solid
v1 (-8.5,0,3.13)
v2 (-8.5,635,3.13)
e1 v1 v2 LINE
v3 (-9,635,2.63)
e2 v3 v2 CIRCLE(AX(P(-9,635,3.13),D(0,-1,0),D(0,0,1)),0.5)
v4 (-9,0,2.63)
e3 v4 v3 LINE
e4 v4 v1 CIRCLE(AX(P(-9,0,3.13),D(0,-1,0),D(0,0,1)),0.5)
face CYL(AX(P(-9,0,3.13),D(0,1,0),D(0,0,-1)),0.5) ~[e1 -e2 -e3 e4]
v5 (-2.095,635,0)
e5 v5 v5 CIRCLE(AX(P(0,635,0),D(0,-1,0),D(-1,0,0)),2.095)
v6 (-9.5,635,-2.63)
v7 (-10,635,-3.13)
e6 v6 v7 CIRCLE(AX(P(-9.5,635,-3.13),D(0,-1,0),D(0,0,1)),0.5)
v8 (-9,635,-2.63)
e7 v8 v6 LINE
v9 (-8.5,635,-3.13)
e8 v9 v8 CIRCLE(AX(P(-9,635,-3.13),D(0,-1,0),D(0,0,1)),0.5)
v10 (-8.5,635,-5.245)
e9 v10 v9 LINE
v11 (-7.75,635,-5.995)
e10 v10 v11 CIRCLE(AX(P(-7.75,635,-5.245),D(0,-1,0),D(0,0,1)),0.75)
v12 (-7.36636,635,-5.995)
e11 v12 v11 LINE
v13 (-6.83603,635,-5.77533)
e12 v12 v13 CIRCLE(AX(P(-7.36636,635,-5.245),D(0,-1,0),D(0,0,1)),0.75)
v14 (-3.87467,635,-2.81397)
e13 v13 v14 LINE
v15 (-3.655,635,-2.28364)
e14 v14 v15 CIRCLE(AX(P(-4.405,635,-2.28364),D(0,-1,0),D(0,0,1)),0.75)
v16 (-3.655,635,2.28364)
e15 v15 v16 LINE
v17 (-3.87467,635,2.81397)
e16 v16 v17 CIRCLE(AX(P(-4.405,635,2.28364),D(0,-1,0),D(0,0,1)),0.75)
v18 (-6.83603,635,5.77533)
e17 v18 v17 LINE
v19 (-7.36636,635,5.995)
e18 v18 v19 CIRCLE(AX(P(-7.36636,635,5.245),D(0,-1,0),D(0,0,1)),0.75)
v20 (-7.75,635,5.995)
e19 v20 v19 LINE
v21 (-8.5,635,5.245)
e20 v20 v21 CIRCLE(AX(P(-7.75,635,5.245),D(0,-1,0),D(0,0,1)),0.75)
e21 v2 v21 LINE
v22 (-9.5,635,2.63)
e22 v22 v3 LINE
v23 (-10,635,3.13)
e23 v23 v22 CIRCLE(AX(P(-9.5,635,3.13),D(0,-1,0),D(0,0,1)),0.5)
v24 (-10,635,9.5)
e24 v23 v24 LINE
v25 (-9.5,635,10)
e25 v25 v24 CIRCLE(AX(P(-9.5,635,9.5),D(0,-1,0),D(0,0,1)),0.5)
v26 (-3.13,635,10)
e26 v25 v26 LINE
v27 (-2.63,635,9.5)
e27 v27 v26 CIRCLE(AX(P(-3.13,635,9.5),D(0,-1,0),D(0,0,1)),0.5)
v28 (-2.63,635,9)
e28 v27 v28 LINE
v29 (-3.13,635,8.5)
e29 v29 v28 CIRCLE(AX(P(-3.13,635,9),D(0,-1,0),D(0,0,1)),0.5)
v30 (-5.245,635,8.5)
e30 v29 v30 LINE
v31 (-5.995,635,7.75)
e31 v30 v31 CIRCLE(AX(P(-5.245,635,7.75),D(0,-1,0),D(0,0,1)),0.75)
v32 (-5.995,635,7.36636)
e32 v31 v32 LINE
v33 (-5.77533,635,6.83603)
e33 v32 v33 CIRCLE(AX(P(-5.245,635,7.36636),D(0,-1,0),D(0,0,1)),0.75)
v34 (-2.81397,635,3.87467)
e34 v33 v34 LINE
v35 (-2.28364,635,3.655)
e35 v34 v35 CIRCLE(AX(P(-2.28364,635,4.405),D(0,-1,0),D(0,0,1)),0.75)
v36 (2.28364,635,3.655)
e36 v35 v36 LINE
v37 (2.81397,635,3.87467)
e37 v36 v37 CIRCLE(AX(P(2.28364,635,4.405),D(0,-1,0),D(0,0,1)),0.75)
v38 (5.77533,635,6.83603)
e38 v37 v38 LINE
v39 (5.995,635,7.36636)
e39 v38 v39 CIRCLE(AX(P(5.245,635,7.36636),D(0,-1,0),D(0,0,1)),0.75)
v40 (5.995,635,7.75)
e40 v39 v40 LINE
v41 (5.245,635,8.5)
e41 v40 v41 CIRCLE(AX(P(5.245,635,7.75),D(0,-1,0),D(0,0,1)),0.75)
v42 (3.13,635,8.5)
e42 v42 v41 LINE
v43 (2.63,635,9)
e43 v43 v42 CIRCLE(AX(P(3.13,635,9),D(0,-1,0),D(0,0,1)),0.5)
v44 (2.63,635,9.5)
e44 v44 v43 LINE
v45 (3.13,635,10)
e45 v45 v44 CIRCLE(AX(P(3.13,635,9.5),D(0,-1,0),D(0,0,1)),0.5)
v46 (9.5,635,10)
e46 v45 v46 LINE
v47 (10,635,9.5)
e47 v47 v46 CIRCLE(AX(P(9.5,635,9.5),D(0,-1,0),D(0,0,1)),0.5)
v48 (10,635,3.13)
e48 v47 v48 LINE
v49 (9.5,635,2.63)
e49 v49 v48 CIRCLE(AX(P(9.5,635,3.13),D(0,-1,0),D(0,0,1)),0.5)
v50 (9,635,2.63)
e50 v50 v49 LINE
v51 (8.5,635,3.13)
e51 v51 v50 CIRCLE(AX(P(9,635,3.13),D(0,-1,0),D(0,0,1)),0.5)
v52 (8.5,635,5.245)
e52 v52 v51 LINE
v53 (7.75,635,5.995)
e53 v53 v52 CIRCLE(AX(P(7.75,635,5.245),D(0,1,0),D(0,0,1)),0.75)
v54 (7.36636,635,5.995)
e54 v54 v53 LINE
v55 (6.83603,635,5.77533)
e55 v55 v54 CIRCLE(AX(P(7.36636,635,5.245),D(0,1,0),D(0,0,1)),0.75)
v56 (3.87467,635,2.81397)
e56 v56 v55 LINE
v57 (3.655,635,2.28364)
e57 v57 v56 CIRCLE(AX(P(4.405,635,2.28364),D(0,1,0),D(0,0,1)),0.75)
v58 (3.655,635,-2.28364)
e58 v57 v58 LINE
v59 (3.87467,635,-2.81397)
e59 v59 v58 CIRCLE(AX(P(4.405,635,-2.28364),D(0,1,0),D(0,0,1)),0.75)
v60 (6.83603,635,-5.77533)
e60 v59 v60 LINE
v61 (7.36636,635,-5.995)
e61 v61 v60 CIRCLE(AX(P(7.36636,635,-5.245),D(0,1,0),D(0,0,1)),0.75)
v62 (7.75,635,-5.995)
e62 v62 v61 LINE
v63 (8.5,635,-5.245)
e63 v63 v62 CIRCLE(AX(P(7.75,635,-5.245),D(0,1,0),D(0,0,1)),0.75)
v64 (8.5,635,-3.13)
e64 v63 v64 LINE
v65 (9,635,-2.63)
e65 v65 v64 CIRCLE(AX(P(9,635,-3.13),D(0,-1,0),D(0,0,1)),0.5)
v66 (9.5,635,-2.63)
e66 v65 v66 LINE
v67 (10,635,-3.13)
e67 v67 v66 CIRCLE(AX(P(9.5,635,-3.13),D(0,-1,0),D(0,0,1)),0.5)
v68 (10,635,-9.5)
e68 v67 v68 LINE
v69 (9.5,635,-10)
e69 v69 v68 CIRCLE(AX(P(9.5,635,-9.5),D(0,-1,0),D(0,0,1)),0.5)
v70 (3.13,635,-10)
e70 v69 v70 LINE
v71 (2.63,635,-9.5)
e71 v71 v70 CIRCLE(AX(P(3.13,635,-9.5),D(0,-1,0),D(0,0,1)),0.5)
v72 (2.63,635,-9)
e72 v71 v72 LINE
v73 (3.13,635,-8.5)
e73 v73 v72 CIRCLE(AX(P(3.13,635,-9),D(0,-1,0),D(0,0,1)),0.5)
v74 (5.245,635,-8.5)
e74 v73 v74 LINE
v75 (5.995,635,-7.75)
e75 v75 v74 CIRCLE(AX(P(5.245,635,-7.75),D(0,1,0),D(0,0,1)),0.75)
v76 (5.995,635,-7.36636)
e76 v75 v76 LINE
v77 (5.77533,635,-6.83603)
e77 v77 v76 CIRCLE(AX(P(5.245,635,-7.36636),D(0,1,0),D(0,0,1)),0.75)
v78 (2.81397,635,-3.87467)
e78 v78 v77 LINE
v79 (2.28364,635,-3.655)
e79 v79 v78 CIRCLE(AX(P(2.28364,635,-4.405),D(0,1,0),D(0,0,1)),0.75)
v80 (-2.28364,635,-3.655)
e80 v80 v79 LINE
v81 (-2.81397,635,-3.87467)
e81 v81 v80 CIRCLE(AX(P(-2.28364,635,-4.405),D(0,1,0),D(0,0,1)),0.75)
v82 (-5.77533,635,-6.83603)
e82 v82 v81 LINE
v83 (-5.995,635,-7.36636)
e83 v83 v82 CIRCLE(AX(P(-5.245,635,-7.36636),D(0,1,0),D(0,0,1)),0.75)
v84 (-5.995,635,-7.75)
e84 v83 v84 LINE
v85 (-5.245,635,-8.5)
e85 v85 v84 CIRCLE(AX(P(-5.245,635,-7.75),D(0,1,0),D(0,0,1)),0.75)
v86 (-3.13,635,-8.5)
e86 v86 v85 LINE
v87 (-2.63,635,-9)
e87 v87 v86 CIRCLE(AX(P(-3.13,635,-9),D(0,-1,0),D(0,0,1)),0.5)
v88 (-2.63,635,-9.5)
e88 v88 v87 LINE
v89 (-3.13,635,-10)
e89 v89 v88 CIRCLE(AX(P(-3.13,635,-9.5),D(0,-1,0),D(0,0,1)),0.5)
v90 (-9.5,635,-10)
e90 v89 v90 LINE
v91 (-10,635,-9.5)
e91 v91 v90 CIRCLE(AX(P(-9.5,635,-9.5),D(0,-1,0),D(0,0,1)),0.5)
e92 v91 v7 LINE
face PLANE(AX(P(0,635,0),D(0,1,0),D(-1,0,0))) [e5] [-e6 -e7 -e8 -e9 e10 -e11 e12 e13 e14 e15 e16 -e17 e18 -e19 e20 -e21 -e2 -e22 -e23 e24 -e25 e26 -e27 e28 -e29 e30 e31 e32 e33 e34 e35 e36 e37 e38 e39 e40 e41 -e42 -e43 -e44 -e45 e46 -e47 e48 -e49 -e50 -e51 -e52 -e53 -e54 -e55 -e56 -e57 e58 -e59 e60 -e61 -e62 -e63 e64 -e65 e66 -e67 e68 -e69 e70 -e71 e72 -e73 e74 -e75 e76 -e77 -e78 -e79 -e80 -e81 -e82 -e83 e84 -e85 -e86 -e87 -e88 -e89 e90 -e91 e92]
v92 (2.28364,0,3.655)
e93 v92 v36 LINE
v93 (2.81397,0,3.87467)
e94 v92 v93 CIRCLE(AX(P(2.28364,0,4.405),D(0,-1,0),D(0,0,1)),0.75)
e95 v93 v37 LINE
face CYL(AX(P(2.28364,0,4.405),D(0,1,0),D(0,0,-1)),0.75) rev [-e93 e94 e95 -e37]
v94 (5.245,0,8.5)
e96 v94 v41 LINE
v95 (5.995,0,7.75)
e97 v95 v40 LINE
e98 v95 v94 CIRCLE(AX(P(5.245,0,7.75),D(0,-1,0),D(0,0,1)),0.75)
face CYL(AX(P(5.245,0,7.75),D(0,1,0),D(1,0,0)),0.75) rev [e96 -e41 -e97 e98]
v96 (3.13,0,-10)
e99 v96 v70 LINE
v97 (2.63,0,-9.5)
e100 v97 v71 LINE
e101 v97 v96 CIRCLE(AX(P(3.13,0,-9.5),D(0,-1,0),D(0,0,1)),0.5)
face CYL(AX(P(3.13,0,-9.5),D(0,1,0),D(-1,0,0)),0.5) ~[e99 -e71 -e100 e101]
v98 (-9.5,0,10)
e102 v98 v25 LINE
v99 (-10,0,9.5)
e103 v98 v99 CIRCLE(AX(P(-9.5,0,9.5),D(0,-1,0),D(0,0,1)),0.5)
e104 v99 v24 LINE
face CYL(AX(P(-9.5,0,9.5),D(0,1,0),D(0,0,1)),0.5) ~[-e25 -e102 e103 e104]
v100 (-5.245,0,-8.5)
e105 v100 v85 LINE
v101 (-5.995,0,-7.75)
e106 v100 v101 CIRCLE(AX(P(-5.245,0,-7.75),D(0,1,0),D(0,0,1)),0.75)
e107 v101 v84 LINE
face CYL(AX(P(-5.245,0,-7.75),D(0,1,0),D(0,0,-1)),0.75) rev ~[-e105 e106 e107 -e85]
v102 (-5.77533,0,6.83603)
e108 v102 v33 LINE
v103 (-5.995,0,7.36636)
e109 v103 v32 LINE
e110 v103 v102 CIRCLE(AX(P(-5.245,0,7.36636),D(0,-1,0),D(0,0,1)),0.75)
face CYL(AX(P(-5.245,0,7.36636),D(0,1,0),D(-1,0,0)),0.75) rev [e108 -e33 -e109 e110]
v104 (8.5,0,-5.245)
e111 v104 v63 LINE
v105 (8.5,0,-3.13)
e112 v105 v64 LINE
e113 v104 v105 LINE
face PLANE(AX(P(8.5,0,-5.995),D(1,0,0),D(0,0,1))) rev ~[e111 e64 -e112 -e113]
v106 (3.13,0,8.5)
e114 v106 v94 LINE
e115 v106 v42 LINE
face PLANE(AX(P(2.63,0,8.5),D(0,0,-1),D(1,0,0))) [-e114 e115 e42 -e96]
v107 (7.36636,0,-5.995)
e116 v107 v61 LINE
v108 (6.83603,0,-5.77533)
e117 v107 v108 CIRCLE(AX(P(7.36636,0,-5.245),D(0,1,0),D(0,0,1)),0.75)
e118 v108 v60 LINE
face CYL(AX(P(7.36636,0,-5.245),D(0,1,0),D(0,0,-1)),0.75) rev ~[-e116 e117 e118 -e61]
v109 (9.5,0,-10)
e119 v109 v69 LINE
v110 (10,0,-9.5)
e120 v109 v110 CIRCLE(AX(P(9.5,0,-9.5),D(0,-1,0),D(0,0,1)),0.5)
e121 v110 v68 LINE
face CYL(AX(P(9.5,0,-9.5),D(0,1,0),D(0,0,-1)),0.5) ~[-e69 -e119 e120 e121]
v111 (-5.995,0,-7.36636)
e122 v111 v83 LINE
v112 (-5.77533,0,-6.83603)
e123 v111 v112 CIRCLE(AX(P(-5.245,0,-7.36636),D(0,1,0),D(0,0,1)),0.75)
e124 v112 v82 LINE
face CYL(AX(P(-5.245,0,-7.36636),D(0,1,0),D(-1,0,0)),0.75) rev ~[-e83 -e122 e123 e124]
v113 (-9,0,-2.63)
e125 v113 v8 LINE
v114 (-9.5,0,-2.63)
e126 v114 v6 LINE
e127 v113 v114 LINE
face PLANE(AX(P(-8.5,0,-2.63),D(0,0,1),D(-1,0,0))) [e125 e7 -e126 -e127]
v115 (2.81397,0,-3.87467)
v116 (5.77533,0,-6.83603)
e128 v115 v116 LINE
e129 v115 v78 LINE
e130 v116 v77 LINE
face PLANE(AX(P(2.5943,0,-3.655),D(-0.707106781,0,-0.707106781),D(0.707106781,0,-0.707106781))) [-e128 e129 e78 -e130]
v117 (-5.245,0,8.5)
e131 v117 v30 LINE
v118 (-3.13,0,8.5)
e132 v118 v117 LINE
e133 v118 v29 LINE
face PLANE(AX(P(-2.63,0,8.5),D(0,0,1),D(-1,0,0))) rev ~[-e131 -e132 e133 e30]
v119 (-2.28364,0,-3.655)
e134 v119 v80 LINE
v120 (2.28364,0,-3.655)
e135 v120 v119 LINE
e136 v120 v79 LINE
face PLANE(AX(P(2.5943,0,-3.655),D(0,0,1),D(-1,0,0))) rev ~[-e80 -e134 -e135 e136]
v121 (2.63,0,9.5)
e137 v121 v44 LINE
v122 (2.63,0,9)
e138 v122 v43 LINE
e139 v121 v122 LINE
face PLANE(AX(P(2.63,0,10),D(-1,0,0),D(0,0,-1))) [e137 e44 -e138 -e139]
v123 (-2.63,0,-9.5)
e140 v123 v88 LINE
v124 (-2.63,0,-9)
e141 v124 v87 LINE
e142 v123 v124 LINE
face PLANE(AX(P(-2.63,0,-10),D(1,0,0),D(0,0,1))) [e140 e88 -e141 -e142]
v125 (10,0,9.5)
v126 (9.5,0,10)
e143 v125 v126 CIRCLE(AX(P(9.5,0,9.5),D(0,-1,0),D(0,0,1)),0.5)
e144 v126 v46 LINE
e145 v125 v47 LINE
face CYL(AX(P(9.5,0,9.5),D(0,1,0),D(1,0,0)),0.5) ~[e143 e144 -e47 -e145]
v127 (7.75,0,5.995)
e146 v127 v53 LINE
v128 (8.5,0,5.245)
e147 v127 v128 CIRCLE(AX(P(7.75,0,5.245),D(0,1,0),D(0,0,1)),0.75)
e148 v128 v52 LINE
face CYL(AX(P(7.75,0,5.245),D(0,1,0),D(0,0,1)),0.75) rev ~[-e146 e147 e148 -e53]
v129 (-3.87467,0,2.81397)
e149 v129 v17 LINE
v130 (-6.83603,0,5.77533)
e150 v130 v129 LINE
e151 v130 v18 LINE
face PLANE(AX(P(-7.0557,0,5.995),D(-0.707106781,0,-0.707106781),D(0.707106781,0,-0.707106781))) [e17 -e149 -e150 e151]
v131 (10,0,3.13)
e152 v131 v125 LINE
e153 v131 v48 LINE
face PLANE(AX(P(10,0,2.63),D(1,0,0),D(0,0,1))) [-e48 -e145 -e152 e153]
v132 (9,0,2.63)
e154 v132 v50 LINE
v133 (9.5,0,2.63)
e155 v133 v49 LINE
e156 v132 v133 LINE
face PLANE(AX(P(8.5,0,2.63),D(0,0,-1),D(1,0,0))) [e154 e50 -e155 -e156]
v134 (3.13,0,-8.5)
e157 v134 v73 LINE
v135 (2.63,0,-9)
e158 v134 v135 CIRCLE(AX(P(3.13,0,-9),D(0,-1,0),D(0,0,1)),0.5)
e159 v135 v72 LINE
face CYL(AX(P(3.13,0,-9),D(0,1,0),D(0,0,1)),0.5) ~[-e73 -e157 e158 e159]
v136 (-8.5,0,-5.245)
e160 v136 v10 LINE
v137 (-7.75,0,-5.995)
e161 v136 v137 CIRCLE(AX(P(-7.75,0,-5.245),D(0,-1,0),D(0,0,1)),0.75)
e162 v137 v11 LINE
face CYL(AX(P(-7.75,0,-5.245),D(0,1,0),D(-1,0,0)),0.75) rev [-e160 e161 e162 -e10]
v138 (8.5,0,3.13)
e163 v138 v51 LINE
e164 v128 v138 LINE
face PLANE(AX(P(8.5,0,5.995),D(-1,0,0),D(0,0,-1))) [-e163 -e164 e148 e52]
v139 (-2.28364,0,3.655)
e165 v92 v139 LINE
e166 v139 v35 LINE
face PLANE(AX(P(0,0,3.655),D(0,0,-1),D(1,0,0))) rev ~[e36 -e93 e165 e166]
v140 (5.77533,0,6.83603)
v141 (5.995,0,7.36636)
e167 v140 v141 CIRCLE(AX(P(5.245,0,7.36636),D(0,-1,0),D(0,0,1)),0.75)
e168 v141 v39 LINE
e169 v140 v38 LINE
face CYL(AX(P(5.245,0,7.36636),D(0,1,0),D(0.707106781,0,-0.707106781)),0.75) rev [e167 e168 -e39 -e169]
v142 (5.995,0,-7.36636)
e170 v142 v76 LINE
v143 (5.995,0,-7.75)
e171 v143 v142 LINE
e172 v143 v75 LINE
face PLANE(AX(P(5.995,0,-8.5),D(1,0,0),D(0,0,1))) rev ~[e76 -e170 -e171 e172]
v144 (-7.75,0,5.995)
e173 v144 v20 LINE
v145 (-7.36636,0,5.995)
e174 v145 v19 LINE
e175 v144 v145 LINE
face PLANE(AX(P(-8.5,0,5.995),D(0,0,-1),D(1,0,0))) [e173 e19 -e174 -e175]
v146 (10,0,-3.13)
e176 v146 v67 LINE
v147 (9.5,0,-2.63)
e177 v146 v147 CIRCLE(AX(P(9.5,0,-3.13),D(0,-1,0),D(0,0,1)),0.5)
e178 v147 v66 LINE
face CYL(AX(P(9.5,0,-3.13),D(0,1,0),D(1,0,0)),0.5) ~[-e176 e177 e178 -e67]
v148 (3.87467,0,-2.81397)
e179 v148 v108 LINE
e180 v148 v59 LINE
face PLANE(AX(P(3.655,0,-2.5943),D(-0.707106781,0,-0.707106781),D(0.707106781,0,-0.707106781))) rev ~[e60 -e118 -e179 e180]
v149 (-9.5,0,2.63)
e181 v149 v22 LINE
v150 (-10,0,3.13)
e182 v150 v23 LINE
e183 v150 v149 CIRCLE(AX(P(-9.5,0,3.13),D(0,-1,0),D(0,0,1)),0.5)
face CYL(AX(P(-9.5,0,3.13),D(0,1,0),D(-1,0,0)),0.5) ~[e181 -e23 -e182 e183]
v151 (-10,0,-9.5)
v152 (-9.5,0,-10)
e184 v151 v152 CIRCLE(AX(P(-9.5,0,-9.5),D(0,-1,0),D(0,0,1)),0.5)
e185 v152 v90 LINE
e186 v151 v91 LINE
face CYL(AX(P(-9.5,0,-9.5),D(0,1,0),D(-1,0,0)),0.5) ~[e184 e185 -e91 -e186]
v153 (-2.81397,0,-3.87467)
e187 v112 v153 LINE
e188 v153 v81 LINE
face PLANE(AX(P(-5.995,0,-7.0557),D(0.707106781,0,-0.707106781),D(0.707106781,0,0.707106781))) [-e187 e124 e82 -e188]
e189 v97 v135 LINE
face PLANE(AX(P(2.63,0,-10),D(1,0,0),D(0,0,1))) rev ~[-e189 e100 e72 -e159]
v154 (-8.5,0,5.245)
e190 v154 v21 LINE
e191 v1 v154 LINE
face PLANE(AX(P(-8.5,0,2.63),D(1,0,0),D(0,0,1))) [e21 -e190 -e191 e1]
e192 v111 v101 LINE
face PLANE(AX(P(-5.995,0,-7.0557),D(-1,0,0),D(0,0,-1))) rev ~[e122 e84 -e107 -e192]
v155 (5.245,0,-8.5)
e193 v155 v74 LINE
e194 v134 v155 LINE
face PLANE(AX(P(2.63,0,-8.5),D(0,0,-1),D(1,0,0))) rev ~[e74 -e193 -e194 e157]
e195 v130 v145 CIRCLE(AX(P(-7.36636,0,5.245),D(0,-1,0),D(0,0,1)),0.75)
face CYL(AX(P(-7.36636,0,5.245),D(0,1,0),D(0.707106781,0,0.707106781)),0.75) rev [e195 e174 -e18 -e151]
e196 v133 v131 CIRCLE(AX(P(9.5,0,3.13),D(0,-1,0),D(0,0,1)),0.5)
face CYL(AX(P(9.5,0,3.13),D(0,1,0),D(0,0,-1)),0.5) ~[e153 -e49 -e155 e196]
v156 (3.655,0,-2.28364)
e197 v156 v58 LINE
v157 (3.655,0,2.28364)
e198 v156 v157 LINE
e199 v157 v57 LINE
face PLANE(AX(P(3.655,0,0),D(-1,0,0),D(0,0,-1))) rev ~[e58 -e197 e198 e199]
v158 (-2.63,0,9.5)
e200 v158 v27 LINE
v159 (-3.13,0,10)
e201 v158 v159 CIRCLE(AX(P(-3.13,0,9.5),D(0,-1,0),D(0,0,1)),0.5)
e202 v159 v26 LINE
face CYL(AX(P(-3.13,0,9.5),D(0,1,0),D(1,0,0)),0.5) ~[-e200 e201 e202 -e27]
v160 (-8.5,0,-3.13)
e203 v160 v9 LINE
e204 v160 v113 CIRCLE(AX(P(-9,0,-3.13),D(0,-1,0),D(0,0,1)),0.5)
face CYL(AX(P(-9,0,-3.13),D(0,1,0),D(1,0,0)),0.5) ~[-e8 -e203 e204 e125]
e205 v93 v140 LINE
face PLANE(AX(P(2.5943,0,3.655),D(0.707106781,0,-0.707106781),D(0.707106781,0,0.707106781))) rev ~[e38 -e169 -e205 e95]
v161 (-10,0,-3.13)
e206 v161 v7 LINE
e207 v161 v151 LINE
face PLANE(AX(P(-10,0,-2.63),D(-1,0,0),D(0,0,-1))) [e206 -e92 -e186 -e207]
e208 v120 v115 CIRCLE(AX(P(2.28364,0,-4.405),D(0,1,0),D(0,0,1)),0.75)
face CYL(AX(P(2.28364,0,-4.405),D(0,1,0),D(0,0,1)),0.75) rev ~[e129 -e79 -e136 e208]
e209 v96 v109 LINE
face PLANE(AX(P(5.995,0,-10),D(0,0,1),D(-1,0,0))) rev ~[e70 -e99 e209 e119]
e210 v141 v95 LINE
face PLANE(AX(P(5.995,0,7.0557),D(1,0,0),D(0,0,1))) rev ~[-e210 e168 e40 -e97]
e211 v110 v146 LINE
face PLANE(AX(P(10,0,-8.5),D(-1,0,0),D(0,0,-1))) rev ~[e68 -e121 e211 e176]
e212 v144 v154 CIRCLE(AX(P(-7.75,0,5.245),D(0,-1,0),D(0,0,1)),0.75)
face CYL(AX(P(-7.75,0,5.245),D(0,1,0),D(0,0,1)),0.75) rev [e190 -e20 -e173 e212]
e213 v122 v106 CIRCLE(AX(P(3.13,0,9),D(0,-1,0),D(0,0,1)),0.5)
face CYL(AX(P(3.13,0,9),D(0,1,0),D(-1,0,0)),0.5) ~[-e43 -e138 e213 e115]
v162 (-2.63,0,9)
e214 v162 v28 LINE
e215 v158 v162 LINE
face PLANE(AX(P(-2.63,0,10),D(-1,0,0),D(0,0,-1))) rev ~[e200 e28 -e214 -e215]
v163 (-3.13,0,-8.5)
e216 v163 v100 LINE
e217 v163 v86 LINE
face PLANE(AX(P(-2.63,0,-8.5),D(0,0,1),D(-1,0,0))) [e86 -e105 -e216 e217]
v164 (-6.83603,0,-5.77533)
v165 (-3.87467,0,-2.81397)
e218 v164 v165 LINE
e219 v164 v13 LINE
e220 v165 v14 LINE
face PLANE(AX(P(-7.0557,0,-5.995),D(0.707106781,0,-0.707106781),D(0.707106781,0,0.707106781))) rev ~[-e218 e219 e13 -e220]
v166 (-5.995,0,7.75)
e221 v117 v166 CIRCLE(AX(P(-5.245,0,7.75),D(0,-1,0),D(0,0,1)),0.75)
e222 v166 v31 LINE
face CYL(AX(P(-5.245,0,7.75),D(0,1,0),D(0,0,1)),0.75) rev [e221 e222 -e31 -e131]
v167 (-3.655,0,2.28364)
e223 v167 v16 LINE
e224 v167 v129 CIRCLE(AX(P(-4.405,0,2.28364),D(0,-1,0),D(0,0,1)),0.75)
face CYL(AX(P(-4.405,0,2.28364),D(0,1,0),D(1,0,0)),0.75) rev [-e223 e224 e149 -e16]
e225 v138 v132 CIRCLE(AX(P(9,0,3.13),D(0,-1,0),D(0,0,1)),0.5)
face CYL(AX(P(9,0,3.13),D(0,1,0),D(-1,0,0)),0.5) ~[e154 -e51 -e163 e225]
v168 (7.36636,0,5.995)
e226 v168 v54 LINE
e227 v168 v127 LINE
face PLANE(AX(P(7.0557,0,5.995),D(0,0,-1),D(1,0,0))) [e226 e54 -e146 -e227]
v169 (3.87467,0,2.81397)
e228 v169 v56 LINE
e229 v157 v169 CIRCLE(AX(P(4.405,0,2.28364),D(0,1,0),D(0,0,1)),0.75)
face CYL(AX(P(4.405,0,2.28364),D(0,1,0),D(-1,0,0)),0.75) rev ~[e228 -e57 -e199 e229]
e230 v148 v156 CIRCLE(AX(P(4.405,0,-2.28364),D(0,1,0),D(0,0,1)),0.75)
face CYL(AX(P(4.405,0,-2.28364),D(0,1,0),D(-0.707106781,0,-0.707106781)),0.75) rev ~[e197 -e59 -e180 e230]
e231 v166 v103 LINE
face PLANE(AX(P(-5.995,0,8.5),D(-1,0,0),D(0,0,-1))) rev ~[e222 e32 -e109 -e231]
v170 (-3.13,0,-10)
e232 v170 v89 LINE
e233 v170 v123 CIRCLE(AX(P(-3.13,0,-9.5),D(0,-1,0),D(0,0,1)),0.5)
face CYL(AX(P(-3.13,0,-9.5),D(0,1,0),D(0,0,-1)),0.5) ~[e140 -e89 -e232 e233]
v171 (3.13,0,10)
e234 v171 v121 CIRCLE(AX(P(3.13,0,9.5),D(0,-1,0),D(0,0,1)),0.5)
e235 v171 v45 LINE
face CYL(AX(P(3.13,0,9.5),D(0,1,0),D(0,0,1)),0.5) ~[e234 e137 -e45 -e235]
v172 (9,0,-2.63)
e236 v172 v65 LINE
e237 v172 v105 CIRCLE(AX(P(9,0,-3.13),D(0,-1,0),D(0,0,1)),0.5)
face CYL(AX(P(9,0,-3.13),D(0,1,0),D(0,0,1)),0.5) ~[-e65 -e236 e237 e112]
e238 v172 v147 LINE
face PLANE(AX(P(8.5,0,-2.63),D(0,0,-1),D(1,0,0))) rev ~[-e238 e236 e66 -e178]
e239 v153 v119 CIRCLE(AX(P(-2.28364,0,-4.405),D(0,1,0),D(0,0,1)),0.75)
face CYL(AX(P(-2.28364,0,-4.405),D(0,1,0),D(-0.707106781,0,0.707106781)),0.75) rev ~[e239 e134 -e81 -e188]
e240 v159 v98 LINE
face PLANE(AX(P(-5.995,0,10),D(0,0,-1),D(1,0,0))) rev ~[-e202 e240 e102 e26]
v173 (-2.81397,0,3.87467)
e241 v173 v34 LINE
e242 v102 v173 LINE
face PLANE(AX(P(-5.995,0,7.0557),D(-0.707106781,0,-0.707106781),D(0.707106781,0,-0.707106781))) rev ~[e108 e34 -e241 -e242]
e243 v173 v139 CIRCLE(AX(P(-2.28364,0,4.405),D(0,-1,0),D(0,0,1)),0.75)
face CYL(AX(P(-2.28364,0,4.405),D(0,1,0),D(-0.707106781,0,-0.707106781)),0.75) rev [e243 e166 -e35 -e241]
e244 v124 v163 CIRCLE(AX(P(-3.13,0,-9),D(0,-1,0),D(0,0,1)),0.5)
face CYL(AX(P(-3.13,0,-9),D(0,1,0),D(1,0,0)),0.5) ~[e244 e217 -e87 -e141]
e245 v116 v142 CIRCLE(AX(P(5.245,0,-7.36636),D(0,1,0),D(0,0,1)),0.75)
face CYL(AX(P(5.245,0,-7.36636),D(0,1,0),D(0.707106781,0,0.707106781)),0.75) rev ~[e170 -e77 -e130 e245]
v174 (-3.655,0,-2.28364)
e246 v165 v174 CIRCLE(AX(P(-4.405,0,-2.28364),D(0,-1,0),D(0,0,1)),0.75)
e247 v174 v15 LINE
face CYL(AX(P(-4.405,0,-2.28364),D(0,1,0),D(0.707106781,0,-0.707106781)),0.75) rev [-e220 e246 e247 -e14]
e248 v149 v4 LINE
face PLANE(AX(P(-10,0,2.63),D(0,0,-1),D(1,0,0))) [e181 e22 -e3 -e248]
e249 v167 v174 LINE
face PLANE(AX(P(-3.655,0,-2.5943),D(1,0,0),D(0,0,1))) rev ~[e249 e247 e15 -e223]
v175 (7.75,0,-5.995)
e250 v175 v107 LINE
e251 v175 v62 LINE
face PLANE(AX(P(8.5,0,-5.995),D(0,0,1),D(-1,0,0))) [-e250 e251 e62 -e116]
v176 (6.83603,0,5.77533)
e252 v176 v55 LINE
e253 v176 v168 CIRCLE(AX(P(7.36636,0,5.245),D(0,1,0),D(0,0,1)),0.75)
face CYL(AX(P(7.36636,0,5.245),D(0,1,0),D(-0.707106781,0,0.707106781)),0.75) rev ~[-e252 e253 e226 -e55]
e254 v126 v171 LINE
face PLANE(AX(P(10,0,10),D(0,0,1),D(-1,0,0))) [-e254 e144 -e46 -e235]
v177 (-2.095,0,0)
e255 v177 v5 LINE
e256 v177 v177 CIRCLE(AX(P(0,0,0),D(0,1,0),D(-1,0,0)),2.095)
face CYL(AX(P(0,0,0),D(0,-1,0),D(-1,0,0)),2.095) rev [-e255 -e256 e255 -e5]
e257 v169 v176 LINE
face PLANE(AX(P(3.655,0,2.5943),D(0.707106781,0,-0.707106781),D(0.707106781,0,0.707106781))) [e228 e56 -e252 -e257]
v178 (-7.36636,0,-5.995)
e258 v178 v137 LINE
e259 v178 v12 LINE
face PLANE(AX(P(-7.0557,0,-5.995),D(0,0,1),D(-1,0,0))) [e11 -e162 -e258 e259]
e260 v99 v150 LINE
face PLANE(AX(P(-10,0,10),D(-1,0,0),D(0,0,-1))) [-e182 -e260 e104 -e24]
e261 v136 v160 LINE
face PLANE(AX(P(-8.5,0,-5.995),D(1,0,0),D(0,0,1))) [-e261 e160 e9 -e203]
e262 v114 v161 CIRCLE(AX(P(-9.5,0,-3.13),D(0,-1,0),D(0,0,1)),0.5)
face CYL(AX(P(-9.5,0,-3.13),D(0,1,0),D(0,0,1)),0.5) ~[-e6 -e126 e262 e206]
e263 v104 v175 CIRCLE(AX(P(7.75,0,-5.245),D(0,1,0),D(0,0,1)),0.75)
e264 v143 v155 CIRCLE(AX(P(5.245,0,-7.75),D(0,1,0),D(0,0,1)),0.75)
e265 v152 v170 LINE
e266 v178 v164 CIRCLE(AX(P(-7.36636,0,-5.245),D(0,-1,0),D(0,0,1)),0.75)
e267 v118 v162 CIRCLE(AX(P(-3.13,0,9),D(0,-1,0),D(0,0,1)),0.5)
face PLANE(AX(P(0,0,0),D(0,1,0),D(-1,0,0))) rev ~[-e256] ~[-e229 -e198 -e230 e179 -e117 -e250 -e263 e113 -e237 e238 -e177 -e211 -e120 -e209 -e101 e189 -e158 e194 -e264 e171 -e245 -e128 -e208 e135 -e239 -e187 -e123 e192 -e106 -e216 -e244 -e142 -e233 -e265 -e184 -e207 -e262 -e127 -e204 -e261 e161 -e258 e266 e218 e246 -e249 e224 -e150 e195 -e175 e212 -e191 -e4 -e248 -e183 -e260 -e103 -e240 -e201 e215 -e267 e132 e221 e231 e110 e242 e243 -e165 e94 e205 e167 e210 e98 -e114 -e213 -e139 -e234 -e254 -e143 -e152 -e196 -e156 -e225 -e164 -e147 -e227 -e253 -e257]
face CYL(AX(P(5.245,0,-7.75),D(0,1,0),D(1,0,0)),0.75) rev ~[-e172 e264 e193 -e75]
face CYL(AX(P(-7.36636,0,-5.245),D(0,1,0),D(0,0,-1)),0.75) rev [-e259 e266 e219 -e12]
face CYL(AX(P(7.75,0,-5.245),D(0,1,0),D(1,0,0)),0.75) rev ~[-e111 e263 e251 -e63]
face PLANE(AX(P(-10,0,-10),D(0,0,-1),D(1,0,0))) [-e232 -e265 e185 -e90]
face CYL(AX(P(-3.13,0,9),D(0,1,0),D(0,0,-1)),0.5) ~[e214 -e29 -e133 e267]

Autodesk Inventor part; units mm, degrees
ref_plane "YZ Plane" through (0, 0, 0) normal (1, 0, 0) x (0, 1, 0)
ref_plane "XZ Plane" through (0, 0, 0) normal (0, 1, 0) x (-1, 0, 0)
ref_plane "XY Plane" through (0, 0, 0) normal (0, 0, 1) x (1, 0, 0)
sketch "Sketch1" plane through (0, 0, 0) normal (0, 1, 0) x (-1, 0, 0)
  line L0 (0, -14) -> (0, 14) projected
  line L1 (-14, 0) -> (14, 0) projected
  line L2 (14, 0) -> (-14, 0) projected
  line L3 (0, -14) -> (0, 14) projected
  line L4 (2.5943, 3.655) -> (-2.5943, 3.655)
  line L5 (-3.655, 2.5943) -> (-3.655, -2.5943)
  line L6 (-2.5943, -3.655) -> (2.5943, -3.655)
  line L7 (3.655, -2.5943) -> (3.655, 2.5943)
  line L8 (-3.655, 3.655) -> (3.655, -3.655) construction
  line L9 (10, 10) -> (10, 2.63)
  line L10 (10, 2.63) -> (8.5, 2.63)
  line L11 (10, 10) -> (2.63, 10)
  line L12 (2.63, 10) -> (2.63, 8.5)
  line L13 (-10, 10) -> (-2.63, 10)
  line L14 (-2.63, 10) -> (-2.63, 8.5)
  line L15 (-10, 8.5) -> (-10, 10)
  line L16 (-10, 10) -> (-8.5, 10)
  line L17 (-8.5, 2.63) -> (-10, 2.63)
  line L18 (-10, 2.63) -> (-10, 10)
  line L19 (-10, -10) -> (-8.5, -10)
  line L20 (-8.5, -2.63) -> (-10, -2.63)
  line L21 (-10, -2.63) -> (-10, -10)
  line L22 (-10, -10) -> (-2.63, -10)
  line L23 (-2.63, -10) -> (-2.63, -8.5)
  line L24 (-10, -8.5) -> (-10, -10)
  line L25 (10, -10) -> (8.5, -10)
  line L26 (8.5, -2.63) -> (10, -2.63)
  line L27 (10, -2.63) -> (10, -10)
  line L28 (10, -10) -> (2.63, -10)
  line L29 (2.63, -10) -> (2.63, -8.5)
  line L30 (10, -8.5) -> (10, -10)
  circle A0 centre (0, 0) radius 2.095
  line L31 (5.995, -10) -> (2.63, -10)
  line L32 (-2.63, -10) -> (-5.995, -10)
  line L33 (10, -10) -> (2.63, -10)
  line L34 (-2.63, -10) -> (-10, -10)
  line L35 (10, -5.995) -> (10, -2.63)
  line L36 (10, 2.63) -> (10, 5.995)
  line L37 (10, 10) -> (10, 2.63)
  line L38 (10, -2.63) -> (10, -10)
  line L39 (-5.995, 10) -> (-2.63, 10)
  line L40 (2.63, 10) -> (5.995, 10)
  line L41 (-10, 10) -> (-2.63, 10)
  line L42 (2.63, 10) -> (10, 10)
  line L43 (-10, 5.995) -> (-10, 2.63)
  line L44 (-10, -2.63) -> (-10, -5.995)
  line L45 (-10, -10) -> (-10, -2.63)
  line L46 (-10, 2.63) -> (-10, 10)
  line L47 (-2.63, -8.5) -> (-5.995, -8.5)
  line L48 (-8.5, -5.995) -> (-8.5, -2.63)
  line L49 (-8.5, -5.995) -> (-7.0557, -5.995)
  line L50 (-5.995, -8.5) -> (-5.995, -7.0557)
  line L51 (-5.995, 7.0557) -> (-5.995, 8.5)
  line L52 (2.63, 8.5) -> (5.995, 8.5)
  line L53 (8.5, 2.63) -> (8.5, 5.995)
  line L54 (8.5, 5.995) -> (7.0557, 5.995)
  line L55 (5.995, 8.5) -> (5.995, 7.0557)
  line L56 (2.63, -8.5) -> (5.995, -8.5)
  line L57 (9.5607, -8.5) -> (10, -8.5)
  line L58 (8.5, -10) -> (8.5, -9.5607)
  line L59 (8.5, -5.995) -> (8.5, -2.63)
  line L60 (7.0557, -5.995) -> (8.5, -5.995)
  line L61 (5.995, -7.0557) -> (5.995, -8.5)
  line L62 (3.655, 3.655) -> (-0.5303, -0.5303) construction
  line L63 (-1.4814, -1.4814) -> (-3.655, -3.655) construction
  line L64 (-8.5, 10) -> (-8.5, 9.5607)
  line L65 (-8.5, 5.995) -> (-8.5, 2.63)
  line L66 (-2.63, 8.5) -> (-5.995, 8.5)
  line L67 (-9.5607, 8.5) -> (-10, 8.5)
  line L68 (-7.0557, 5.995) -> (-8.5, 5.995)
  line L69 (-3.655, 2.5943) -> (-7.0557, 5.995)
  line L70 (-2.5943, 3.655) -> (-5.995, 7.0557)
  line L71 (5.995, 7.0557) -> (2.5943, 3.655)
  line L72 (7.0557, 5.995) -> (3.655, 2.5943)
  line L73 (7.0557, -5.995) -> (3.655, -2.5943)
  line L74 (5.995, -7.0557) -> (2.5943, -3.655)
  line L75 (-2.5943, -3.655) -> (-5.995, -7.0557)
  line L76 (-3.655, -2.5943) -> (-7.0557, -5.995)
  dimension "d26" = 4.19
  dimension "d0" = 20
  dimension "d1" = 20
  dimension "d2" = 7.31
  dimension "d3" = 7.31
  dimension "d4" = 20
  dimension "d5" = 11.99
  dimension "d6" = 11.99
  dimension "d11" = 7.37
  dimension "d12" = 1.5
  dimension "d13" = 7.37
  dimension "d14" = 1.5
  dimension "d15" = 7.37
  dimension "d16" = 1.5
  dimension "d17" = 7.37
  dimension "d18" = 1.5
  dimension "d19" = 7.37
  dimension "d20" = 7.37
  dimension "d21" = 1.5
  dimension "d22" = 1.5
  dimension "d23" = 7.37
  dimension "d24" = 7.37
  dimension "d25" = 1.5
extrude "Extrusion1" add sketch "Sketch1" along normal blind 635 contours L6 L75 L50 L47 L23 L22 L19 L21 L20 L48 L49 L76 L5 L1 A0 L0 | L0 A0 L1 L7 L73 L60 L59 L26 L27 L25 L28 L29 L56 L61 L74 L6 | L1 L5 L69 L68 L65 L17 L18 L15 L13 L14 L66 L51 L70 L4 L0 A0 | A0 L0 L4 L71 L55 L52 L12 L11 L9 L10 L53 L54 L72 L7 L1
fillet "Fillet1" radius 0.5 20 edges at (10, 317.5, 10) (2.63, 317.5, 10) (-2.63, 317.5, 10) (-2.63, 317.5, 8.5) (10, 317.5, 2.63) (8.5, 317.5, 2.63) (10, 317.5, -2.63) (8.5, 317.5, -2.63) (10, 317.5, -10) (2.63, 317.5, -8.5) (-2.63, 317.5, -10) (-2.63, 317.5, -8.5) (2.63, 317.5, -10) (-10, 317.5, -10) (-8.5, 317.5, -2.63) (-10, 317.5, -2.63) (-8.5, 317.5, 2.63) (-10, 317.5, 2.63) (-10, 317.5, 10) (2.63, 317.5, 8.5)
fillet "Fillet2" radius 0.75 24 edges at (-7.0557, 317.5, 5.995) (-3.655, 317.5, 2.5943) (-8.5, 317.5, -5.995) (-7.0557, 317.5, -5.995) (-5.995, 317.5, -8.5) (3.655, 317.5, -2.5943) (7.0557, 317.5, -5.995) (-2.5943, 317.5, 3.655) (-5.995, 317.5, 7.0557) (3.655, 317.5, 2.5943) (7.0557, 317.5, 5.995) (8.5, 317.5, 5.995) (8.5, 317.5, -5.995) (2.5943, 317.5, 3.655) (5.995, 317.5, 7.0557) (5.995, 317.5, 8.5) (-5.995, 317.5, 8.5) (-8.5, 317.5, 5.995) (2.5943, 317.5, -3.655) (5.995, 317.5, -7.0557) (5.995, 317.5, -8.5) (-5.995, 317.5, -7.0557) (-2.5943, 317.5, -3.655) (-3.655, 317.5, -2.5943)
properties part number "Profile_BaseModel_20mm-10" material "Aluminum 6061"
